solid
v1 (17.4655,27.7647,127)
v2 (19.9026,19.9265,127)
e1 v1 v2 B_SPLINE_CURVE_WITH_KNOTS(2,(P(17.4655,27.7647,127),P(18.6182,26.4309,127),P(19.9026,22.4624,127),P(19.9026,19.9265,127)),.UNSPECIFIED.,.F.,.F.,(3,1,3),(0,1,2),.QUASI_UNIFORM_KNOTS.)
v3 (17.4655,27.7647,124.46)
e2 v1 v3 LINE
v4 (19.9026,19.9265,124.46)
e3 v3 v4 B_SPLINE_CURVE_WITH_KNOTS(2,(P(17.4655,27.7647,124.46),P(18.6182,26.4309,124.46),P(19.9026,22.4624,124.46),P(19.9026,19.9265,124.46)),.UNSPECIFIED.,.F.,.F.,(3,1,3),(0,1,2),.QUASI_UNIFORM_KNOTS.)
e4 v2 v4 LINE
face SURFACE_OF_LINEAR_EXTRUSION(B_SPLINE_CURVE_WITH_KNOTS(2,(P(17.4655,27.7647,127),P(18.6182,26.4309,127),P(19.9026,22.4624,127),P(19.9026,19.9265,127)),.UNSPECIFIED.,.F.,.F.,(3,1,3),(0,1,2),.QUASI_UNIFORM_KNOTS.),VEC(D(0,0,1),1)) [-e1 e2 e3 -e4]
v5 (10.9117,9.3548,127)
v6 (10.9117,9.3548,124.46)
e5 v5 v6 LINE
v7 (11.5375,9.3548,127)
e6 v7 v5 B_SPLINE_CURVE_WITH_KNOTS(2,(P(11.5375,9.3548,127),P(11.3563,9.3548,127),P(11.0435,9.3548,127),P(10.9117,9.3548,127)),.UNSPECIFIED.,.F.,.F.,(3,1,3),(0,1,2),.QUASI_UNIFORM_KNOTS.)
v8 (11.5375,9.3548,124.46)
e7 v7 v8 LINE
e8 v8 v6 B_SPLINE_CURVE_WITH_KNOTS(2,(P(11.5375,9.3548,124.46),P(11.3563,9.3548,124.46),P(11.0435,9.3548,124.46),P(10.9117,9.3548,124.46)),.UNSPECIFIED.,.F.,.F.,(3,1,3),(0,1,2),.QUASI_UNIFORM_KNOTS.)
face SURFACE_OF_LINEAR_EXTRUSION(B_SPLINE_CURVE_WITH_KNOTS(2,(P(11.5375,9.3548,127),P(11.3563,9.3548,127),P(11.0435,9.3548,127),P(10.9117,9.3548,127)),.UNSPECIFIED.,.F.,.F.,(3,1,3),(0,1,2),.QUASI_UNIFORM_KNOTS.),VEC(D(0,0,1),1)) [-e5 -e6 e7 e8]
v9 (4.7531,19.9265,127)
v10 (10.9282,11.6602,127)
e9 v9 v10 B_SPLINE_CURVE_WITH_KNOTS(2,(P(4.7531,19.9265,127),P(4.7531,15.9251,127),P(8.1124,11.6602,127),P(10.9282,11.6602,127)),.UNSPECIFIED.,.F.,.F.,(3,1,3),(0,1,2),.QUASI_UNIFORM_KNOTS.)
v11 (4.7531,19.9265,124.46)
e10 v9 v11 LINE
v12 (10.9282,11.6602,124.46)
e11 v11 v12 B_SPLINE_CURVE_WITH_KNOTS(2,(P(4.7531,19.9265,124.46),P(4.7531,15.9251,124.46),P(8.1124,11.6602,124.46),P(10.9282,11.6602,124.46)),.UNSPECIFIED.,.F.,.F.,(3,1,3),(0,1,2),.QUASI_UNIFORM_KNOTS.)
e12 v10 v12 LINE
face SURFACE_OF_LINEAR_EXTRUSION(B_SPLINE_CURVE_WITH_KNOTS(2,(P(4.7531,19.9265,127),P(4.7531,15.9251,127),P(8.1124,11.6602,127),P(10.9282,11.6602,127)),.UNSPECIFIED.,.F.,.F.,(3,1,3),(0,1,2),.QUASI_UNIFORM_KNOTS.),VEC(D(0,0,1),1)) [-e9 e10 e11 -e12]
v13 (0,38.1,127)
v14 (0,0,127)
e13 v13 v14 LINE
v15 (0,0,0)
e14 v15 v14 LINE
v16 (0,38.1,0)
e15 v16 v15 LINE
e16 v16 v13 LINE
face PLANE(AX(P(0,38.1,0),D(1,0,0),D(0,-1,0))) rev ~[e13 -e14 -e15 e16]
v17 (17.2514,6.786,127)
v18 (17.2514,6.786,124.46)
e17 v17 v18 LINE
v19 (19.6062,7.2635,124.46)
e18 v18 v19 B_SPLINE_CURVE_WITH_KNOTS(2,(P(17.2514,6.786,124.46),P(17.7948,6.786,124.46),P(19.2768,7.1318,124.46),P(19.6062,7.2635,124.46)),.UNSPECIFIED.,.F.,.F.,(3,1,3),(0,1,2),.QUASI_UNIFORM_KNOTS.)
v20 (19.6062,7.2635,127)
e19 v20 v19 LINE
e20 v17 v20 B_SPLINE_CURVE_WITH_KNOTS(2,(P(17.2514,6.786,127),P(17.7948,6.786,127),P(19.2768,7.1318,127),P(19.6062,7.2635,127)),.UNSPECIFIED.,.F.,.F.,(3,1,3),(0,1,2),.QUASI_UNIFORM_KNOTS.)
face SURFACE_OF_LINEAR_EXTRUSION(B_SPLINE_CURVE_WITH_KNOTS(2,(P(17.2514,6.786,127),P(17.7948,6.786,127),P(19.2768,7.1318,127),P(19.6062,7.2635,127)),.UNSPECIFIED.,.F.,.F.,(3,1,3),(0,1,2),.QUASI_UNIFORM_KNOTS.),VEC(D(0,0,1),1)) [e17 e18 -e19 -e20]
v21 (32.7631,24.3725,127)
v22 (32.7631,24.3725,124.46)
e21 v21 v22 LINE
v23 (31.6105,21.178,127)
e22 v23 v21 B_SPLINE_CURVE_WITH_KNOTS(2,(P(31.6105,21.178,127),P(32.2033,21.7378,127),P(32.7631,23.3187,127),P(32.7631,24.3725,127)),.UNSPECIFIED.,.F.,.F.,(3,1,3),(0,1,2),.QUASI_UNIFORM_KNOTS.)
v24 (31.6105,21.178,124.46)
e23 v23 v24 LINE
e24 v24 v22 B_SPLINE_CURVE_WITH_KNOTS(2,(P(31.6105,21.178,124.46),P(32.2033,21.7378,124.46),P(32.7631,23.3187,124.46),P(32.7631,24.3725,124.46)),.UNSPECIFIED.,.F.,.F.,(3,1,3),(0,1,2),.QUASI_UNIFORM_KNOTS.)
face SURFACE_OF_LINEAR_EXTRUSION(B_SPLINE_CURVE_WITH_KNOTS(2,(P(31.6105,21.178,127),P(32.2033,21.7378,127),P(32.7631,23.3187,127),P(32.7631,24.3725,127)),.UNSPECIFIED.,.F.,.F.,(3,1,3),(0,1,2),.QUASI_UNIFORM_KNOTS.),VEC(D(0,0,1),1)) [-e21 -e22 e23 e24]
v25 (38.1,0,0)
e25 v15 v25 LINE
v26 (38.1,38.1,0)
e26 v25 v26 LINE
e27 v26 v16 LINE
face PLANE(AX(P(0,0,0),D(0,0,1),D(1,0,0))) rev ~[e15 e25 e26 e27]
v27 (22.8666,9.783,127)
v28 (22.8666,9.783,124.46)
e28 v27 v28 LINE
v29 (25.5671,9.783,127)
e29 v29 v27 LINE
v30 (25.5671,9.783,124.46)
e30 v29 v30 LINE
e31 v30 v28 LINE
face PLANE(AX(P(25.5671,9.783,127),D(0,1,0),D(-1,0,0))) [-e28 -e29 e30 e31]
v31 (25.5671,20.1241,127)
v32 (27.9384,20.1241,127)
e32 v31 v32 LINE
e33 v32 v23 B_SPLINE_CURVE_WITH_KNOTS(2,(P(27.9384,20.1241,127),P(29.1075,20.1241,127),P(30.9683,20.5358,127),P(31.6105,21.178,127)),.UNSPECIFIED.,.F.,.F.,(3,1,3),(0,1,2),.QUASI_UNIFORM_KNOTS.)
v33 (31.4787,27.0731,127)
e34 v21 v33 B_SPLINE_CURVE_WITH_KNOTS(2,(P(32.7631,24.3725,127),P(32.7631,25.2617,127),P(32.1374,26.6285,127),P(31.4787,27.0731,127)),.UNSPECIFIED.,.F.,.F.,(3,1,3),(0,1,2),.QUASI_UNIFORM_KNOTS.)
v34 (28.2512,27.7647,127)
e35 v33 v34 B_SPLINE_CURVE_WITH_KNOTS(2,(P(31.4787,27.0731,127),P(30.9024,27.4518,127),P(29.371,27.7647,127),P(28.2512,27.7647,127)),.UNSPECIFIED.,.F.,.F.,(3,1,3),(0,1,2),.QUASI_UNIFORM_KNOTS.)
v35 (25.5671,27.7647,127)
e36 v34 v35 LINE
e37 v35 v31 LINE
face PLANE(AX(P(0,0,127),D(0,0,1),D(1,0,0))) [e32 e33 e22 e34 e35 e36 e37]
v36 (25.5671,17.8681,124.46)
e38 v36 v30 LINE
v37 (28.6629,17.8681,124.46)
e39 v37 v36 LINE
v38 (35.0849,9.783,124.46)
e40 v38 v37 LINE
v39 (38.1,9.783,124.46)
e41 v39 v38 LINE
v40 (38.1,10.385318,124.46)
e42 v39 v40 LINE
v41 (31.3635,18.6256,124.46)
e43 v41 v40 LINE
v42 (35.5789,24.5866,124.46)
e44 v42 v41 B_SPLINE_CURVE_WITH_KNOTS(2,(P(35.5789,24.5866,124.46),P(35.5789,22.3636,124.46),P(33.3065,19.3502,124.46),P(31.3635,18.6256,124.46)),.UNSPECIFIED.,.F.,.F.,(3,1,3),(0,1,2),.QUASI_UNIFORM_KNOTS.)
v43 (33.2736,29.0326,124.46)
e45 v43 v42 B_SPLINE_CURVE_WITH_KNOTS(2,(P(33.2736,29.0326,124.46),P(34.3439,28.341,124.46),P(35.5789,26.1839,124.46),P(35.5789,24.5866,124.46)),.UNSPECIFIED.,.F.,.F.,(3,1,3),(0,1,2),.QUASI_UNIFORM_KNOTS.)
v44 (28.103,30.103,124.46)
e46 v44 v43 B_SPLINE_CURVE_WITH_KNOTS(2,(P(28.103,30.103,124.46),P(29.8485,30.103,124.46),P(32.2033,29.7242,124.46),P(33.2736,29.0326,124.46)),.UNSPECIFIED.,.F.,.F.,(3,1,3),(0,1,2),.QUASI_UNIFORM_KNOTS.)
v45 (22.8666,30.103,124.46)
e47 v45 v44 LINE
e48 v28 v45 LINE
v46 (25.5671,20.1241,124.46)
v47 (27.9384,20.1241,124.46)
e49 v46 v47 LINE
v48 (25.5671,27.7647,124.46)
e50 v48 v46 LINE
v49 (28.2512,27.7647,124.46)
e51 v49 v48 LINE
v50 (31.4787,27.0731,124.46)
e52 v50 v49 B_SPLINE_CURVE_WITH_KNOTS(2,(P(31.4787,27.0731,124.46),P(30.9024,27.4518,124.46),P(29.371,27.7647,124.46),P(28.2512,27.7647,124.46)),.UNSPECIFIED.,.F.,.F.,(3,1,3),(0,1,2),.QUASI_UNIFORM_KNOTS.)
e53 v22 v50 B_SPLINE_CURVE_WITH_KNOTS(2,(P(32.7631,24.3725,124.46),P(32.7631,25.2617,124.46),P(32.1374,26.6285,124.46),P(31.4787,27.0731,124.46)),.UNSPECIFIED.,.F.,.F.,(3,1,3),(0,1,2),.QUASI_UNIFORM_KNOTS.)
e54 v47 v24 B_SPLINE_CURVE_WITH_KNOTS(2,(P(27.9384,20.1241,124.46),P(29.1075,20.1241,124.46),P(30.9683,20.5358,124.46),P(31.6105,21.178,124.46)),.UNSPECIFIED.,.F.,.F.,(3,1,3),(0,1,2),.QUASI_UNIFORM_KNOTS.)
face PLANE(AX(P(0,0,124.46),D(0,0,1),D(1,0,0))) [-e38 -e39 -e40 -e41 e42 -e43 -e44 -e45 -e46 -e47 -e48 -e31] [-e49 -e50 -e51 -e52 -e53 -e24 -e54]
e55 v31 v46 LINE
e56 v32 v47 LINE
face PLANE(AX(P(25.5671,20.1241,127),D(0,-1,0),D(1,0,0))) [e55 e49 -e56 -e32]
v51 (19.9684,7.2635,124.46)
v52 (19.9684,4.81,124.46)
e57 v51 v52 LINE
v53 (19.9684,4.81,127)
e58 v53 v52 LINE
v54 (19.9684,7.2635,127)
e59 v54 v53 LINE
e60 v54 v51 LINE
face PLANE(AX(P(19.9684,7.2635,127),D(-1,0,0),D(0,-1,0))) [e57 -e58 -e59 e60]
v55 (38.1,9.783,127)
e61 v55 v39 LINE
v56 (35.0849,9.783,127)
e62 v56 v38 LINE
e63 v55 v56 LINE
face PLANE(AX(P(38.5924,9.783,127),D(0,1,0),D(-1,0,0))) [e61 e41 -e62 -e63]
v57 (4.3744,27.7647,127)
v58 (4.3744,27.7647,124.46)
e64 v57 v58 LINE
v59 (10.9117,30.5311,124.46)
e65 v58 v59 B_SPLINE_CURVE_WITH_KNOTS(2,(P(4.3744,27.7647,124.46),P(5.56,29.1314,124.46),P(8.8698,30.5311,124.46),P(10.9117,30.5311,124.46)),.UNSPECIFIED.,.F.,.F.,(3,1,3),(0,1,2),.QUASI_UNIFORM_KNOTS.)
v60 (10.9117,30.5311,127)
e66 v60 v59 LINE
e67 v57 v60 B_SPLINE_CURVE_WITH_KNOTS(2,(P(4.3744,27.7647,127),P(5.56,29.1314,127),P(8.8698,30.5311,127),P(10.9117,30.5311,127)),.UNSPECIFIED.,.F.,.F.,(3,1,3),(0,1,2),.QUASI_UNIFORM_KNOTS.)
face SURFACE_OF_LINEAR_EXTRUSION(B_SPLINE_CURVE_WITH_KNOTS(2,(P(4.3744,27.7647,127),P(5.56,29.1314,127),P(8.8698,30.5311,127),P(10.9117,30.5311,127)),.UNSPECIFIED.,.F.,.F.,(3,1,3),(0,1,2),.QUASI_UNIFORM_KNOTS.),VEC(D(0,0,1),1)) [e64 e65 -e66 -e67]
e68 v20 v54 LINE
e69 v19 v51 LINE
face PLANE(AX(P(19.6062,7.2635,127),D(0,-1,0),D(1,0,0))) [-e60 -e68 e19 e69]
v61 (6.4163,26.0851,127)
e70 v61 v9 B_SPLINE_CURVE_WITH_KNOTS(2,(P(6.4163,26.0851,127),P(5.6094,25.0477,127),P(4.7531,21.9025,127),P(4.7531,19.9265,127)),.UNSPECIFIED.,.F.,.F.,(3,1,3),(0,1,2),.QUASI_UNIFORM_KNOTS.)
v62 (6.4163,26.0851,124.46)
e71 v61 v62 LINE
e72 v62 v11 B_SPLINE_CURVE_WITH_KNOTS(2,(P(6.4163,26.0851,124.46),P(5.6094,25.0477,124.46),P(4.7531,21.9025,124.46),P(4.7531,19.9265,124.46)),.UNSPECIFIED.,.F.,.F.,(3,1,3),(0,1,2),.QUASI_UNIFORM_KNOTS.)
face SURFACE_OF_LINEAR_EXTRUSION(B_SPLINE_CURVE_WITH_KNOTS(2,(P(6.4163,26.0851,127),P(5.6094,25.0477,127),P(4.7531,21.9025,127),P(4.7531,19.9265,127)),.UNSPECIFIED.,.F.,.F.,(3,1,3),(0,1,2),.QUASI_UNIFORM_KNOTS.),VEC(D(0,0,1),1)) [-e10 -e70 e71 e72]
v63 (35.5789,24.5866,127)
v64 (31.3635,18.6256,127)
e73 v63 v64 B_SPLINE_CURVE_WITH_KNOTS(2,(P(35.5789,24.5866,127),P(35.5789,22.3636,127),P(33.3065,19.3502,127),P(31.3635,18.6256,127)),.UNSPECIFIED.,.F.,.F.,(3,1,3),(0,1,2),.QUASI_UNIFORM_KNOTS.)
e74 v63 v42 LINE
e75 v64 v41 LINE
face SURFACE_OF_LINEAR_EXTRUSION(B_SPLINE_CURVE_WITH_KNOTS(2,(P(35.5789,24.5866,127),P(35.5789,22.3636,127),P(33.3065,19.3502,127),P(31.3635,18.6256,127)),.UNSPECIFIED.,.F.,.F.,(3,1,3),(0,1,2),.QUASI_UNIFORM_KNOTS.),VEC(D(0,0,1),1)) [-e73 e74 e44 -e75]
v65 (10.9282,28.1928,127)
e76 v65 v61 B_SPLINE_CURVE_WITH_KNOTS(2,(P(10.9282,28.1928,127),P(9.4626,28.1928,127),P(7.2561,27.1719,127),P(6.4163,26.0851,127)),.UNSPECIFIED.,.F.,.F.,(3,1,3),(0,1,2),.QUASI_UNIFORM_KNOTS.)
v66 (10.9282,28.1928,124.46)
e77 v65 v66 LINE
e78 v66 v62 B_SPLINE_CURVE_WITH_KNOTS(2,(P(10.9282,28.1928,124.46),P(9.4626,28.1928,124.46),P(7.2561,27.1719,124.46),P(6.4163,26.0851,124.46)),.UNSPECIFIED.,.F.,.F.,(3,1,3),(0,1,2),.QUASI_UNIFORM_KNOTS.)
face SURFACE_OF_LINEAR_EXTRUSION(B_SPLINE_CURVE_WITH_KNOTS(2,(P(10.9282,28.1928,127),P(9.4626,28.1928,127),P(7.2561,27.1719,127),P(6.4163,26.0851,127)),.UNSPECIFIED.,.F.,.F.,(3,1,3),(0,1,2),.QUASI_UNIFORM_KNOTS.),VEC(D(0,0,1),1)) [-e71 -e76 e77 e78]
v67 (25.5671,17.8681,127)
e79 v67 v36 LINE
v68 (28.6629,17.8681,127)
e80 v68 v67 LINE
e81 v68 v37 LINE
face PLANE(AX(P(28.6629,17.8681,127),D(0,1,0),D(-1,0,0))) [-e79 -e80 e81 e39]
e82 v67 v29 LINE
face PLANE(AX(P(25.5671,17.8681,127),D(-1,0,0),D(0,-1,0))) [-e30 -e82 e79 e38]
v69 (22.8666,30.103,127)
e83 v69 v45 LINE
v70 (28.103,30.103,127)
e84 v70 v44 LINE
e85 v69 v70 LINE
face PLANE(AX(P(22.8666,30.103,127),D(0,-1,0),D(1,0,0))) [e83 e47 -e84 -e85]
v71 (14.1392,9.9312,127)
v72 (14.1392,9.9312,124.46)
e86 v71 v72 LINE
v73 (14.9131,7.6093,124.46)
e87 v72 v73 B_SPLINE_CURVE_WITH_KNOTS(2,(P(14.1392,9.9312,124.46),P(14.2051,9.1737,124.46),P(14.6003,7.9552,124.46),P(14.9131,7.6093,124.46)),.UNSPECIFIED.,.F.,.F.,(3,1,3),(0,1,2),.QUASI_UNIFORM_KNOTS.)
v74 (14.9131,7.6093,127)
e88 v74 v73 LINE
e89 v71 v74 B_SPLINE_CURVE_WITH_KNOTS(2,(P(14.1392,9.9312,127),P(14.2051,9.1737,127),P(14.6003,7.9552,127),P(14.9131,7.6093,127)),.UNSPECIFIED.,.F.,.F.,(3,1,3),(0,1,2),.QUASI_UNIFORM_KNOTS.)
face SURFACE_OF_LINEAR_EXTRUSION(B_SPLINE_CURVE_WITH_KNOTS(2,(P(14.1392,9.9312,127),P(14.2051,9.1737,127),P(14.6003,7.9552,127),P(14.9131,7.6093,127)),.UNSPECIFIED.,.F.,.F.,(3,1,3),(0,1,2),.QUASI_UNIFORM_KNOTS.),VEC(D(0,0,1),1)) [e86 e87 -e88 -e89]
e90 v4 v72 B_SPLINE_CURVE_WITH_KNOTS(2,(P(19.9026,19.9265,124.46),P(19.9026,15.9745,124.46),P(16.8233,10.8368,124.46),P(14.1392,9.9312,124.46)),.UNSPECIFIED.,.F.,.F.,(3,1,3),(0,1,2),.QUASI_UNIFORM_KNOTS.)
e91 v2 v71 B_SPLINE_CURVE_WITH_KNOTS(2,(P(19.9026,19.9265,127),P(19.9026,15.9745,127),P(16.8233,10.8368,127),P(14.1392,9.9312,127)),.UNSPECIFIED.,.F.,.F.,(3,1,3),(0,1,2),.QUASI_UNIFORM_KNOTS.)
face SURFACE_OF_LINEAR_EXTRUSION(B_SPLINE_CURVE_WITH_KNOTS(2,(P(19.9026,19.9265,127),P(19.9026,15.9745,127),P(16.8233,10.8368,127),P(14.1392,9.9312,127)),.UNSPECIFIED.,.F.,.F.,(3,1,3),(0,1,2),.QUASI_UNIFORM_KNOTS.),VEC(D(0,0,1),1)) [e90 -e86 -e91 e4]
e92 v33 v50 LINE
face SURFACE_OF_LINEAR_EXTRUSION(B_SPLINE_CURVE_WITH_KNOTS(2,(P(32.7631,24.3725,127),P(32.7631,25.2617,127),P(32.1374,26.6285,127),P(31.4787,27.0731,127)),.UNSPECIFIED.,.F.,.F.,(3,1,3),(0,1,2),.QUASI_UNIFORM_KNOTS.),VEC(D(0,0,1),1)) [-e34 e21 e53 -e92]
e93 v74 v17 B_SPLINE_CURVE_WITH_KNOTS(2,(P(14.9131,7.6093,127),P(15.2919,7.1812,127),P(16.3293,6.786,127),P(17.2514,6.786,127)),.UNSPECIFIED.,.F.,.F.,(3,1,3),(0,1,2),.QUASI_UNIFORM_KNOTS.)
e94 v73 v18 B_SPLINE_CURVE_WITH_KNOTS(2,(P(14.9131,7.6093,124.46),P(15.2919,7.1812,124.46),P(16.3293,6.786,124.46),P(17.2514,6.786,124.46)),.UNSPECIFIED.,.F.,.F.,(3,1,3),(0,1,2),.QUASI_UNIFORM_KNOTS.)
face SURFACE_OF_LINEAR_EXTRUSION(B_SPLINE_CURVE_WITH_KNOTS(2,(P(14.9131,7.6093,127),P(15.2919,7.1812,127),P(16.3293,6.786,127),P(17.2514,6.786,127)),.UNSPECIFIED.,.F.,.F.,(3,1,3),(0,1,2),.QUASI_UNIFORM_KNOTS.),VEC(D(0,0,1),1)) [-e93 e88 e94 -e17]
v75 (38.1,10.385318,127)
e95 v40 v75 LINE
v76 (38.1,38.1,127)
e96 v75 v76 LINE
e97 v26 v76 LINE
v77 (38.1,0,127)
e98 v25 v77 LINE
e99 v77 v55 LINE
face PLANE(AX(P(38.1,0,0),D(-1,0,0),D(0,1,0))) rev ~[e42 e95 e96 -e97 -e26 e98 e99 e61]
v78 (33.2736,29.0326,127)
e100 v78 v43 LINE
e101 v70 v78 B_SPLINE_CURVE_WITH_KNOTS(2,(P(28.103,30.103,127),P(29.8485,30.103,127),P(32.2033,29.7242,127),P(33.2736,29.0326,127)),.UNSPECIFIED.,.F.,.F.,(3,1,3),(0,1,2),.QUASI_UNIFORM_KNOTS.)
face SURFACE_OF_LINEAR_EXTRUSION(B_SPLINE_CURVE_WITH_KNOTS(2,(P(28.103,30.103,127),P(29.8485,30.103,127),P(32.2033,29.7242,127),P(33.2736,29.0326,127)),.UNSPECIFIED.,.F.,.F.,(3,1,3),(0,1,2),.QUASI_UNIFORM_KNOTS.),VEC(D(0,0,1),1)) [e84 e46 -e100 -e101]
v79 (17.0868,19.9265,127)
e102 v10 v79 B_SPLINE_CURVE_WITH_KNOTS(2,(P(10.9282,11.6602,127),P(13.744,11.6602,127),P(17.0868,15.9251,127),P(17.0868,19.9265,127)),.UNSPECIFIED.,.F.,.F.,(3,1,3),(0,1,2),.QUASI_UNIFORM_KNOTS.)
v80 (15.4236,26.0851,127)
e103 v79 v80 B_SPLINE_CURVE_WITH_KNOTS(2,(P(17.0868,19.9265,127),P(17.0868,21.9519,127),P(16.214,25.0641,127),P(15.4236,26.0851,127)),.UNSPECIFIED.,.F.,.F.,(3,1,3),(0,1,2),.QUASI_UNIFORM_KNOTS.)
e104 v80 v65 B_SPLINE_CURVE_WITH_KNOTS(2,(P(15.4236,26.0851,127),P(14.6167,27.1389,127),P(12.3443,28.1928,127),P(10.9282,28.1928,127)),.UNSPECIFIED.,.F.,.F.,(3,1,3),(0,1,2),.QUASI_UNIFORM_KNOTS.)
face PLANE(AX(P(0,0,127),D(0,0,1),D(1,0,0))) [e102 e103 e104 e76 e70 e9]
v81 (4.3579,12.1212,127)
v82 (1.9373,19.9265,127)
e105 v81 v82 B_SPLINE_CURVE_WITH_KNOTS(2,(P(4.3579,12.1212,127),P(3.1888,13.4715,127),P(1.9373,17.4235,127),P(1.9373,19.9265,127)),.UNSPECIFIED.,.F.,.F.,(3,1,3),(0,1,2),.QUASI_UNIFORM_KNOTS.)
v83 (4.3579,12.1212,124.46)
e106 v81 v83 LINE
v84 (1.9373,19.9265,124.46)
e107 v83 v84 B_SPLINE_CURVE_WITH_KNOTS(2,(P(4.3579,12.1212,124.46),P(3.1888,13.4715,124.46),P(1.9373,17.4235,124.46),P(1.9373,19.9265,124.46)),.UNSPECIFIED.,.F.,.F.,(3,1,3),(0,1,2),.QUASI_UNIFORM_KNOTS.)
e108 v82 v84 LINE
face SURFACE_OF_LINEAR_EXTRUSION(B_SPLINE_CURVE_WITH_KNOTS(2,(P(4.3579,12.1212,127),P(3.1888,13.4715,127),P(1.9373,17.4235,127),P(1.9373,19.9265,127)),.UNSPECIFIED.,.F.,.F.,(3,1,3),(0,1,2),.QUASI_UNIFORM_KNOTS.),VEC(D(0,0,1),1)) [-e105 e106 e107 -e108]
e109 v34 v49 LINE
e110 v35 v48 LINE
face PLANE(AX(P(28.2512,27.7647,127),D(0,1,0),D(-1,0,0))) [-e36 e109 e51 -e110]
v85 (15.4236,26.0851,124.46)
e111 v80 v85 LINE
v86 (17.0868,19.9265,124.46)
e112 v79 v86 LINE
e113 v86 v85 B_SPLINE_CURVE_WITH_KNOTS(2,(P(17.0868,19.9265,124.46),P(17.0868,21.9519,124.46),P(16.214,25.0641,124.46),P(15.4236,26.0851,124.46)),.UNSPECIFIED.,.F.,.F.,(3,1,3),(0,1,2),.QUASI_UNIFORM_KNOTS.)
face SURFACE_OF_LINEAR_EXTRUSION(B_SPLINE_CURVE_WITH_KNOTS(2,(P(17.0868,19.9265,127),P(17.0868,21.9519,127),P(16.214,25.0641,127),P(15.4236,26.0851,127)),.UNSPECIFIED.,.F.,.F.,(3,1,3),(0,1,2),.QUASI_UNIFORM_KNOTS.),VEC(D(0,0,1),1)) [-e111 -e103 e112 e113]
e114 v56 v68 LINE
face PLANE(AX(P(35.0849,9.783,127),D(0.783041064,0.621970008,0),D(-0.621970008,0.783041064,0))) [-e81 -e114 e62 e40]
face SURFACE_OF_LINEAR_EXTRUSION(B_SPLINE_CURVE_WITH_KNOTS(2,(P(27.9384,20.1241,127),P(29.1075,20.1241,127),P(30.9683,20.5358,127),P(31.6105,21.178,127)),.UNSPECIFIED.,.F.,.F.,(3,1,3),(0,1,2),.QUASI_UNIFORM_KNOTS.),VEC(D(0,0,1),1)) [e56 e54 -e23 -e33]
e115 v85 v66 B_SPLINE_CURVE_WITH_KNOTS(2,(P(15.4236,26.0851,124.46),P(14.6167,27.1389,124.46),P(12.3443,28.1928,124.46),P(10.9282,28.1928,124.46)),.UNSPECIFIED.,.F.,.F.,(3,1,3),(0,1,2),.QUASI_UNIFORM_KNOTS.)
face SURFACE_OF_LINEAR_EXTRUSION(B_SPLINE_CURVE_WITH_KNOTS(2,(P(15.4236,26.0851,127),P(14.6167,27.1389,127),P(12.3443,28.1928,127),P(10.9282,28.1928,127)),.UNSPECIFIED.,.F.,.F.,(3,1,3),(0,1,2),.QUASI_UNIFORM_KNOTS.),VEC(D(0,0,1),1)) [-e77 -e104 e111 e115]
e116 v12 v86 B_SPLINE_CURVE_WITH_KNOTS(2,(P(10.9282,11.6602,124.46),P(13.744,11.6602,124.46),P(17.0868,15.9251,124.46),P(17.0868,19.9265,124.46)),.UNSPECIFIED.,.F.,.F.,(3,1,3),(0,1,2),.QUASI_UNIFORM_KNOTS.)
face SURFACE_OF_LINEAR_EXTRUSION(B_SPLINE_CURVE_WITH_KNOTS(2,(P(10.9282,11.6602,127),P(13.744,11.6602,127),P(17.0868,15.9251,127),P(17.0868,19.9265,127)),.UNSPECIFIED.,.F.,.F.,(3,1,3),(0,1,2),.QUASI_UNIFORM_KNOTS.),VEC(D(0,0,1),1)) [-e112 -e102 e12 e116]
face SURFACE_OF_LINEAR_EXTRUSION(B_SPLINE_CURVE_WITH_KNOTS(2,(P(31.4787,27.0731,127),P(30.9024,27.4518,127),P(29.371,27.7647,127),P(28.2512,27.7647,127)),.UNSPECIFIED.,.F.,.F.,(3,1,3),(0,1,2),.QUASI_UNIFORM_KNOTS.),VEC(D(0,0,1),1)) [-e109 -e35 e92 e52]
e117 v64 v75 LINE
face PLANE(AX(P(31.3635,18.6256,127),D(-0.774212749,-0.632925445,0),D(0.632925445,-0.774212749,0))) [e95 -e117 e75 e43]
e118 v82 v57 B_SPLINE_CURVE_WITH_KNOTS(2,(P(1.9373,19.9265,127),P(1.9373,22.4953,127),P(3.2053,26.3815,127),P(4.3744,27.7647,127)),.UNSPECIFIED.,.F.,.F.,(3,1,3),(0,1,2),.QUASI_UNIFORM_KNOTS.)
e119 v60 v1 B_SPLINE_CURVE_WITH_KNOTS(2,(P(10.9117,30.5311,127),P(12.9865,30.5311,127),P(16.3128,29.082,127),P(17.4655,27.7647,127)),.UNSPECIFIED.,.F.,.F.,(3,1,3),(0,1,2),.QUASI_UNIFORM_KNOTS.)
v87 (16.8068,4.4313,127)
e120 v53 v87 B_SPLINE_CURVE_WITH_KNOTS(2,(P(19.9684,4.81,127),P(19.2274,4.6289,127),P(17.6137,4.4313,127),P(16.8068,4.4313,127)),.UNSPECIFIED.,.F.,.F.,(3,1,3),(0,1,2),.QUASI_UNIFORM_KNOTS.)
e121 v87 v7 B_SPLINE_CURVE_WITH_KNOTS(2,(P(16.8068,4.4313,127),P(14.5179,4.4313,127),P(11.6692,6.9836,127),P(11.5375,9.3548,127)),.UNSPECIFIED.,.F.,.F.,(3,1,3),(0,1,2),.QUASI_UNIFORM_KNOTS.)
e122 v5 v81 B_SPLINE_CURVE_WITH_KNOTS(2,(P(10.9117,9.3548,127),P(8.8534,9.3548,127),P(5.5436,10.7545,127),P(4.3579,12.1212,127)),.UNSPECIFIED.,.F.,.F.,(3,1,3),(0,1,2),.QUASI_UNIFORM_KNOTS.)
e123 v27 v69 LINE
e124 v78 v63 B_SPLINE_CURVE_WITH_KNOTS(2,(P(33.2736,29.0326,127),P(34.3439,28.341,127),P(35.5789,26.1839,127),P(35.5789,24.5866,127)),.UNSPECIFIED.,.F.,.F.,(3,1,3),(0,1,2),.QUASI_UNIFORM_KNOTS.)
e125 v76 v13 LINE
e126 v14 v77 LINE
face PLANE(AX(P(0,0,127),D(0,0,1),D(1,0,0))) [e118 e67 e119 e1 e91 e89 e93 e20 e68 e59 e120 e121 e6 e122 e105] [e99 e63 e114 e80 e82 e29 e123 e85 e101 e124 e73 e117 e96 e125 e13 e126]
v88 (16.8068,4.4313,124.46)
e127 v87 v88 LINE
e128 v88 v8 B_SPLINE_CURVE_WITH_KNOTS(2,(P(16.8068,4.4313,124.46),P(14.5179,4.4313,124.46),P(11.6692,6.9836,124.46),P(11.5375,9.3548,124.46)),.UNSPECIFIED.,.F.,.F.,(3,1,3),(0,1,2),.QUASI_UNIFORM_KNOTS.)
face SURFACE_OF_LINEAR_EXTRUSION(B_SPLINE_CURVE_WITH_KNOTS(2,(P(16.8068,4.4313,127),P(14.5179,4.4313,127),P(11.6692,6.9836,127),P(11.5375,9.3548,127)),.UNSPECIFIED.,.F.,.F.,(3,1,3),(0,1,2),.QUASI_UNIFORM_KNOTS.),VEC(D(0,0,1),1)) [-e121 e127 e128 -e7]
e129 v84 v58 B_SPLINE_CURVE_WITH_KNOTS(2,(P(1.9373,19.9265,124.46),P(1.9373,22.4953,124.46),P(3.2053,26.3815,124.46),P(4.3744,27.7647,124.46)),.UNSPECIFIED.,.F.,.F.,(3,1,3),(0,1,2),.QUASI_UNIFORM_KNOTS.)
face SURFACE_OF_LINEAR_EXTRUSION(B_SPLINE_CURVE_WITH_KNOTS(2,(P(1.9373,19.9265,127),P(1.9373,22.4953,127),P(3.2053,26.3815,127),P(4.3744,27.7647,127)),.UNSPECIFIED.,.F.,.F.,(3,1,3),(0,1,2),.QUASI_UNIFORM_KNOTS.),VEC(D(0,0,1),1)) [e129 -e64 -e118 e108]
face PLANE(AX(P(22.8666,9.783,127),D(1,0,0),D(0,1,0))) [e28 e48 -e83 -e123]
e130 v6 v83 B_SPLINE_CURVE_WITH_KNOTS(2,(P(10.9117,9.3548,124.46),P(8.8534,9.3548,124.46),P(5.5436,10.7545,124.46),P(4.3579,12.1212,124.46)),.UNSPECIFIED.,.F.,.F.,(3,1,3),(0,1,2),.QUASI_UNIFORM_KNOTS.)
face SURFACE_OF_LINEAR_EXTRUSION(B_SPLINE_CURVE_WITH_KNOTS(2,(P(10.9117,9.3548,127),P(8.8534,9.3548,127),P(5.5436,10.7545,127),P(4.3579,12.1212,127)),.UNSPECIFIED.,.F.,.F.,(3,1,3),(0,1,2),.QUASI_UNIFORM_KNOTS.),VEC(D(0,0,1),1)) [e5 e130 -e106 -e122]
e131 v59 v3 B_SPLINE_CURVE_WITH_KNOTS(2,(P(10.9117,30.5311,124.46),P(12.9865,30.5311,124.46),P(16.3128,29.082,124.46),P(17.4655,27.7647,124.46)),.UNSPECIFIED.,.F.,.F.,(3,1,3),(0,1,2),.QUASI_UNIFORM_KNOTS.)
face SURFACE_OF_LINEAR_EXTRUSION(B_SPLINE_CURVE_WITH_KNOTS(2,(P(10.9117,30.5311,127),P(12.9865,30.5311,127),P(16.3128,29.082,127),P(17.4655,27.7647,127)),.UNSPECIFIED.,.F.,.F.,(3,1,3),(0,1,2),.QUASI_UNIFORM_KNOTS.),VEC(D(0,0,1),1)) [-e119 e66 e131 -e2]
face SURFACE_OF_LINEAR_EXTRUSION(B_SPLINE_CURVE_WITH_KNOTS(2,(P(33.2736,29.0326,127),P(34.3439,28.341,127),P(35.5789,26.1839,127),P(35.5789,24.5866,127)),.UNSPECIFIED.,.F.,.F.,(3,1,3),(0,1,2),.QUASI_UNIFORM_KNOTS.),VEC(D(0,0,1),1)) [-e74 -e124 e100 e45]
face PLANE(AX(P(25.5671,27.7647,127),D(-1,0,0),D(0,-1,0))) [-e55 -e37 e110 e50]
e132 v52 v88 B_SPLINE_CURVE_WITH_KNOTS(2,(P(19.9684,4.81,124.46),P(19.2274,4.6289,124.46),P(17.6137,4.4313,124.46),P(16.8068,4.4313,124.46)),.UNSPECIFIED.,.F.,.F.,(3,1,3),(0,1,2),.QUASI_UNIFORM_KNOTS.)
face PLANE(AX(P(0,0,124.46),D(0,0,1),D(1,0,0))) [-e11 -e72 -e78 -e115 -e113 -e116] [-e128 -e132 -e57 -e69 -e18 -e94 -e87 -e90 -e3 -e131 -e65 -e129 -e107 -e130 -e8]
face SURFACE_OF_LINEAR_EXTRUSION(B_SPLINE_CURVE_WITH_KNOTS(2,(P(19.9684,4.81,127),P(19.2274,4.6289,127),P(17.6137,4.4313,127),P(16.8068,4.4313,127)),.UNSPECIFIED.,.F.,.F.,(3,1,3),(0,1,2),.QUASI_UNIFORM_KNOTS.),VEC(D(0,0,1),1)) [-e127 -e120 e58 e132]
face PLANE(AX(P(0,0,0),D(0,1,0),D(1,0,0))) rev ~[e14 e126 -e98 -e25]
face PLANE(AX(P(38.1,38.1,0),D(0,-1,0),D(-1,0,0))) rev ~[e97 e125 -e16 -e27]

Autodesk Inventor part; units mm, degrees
ref_plane "YZ Plane" through (0, 0, 0) normal (1, 0, 0) x (0, 1, 0)
ref_plane "XZ Plane" through (0, 0, 0) normal (0, 1, 0) x (-1, 0, 0)
ref_plane "XY Plane" through (0, 0, 0) normal (0, 0, 1) x (1, 0, 0)
sketch "Sketch1" plane through (0, 0, 0) normal (0, 0, 1) x (1, 0, 0)
  line L0 (0, 0) -> (38.1, 0)
  line L1 (38.1, 0) -> (38.1, 38.1)
  line L2 (38.1, 38.1) -> (0, 38.1)
  line L3 (0, 38.1) -> (0, 0)
  dimension "d0" = 38.1
  dimension "d1" = 38.1
extrude "Extrusion1" add sketch "Sketch1" along normal blind 127
sketch "Sketch2" plane through (0, 0, 127) normal (0, 0, 1) x (1, 0, 0)
  line L0 (1.0317, 30.5311) -> (47.4268, 30.5311) construction
  line L1 (47.4268, 30.5311) -> (47.4268, -2.0937) construction
  line L2 (47.4268, -2.0937) -> (1.0317, -2.0937) construction
  line L3 (1.0317, -2.0937) -> (1.0317, 30.5311) construction
  spline S0 degree 2 poles (19.9684, 4.81) (19.2274, 4.6289) (17.6137, 4.4313) (16.8068, 4.4313) knots 0 0 0 1 2 2 2
  spline S1 degree 2 poles (16.8068, 4.4313) (14.5179, 4.4313) (11.6692, 6.9836) (11.5375, 9.3548) knots 0 0 0 1 2 2 2
  spline S2 degree 2 poles (11.5375, 9.3548) (11.3563, 9.3548) (11.0435, 9.3548) (10.9117, 9.3548) knots 0 0 0 1 2 2 2
  spline S3 degree 2 poles (10.9117, 9.3548) (8.8534, 9.3548) (5.5436, 10.7545) (4.3579, 12.1212) knots 0 0 0 1 2 2 2
  spline S4 degree 2 poles (4.3579, 12.1212) (3.1888, 13.4715) (1.9373, 17.4235) (1.9373, 19.9265) knots 0 0 0 1 2 2 2
  spline S5 degree 2 poles (1.9373, 19.9265) (1.9373, 22.4953) (3.2053, 26.3815) (4.3744, 27.7647) knots 0 0 0 1 2 2 2
  spline S6 degree 2 poles (4.3744, 27.7647) (5.56, 29.1314) (8.8698, 30.5311) (10.9117, 30.5311) knots 0 0 0 1 2 2 2
  spline S7 degree 2 poles (10.9117, 30.5311) (12.9865, 30.5311) (16.3128, 29.082) (17.4655, 27.7647) knots 0 0 0 1 2 2 2
  spline S8 degree 2 poles (17.4655, 27.7647) (18.6182, 26.4309) (19.9026, 22.4624) (19.9026, 19.9265) knots 0 0 0 1 2 2 2
  spline S9 degree 2 poles (19.9026, 19.9265) (19.9026, 15.9745) (16.8233, 10.8368) (14.1392, 9.9312) knots 0 0 0 1 2 2 2
  spline S10 degree 2 poles (14.1392, 9.9312) (14.2051, 9.1737) (14.6003, 7.9552) (14.9131, 7.6093) knots 0 0 0 1 2 2 2
  spline S11 degree 2 poles (14.9131, 7.6093) (15.2919, 7.1812) (16.3293, 6.786) (17.2514, 6.786) knots 0 0 0 1 2 2 2
  spline S12 degree 2 poles (17.2514, 6.786) (17.7948, 6.786) (19.2768, 7.1318) (19.6062, 7.2635) knots 0 0 0 1 2 2 2
  line L4 (19.6062, 7.2635) -> (19.9684, 7.2635)
  line L5 (19.9684, 7.2635) -> (19.9684, 4.81)
  spline S13 degree 2 poles (17.0868, 19.9265) (17.0868, 21.9519) (16.214, 25.0641) (15.4236, 26.0851) knots 0 0 0 1 2 2 2
  spline S14 degree 2 poles (15.4236, 26.0851) (14.6167, 27.1389) (12.3443, 28.1928) (10.9282, 28.1928) knots 0 0 0 1 2 2 2
  spline S15 degree 2 poles (10.9282, 28.1928) (9.4626, 28.1928) (7.2561, 27.1719) (6.4163, 26.0851) knots 0 0 0 1 2 2 2
  spline S16 degree 2 poles (6.4163, 26.0851) (5.6094, 25.0477) (4.7531, 21.9025) (4.7531, 19.9265) knots 0 0 0 1 2 2 2
  spline S17 degree 2 poles (4.7531, 19.9265) (4.7531, 15.9251) (8.1124, 11.6602) (10.9282, 11.6602) knots 0 0 0 1 2 2 2
  spline S18 degree 2 poles (10.9282, 11.6602) (13.744, 11.6602) (17.0868, 15.9251) (17.0868, 19.9265) knots 0 0 0 1 2 2 2
  line L6 (38.5924, 9.783) -> (35.0849, 9.783)
  line L7 (35.0849, 9.783) -> (28.6629, 17.8681)
  line L8 (28.6629, 17.8681) -> (25.5671, 17.8681)
  line L9 (25.5671, 17.8681) -> (25.5671, 9.783)
  line L10 (25.5671, 9.783) -> (22.8666, 9.783)
  line L11 (22.8666, 9.783) -> (22.8666, 30.103)
  line L12 (22.8666, 30.103) -> (28.103, 30.103)
  spline S19 degree 2 poles (28.103, 30.103) (29.8485, 30.103) (32.2033, 29.7242) (33.2736, 29.0326) knots 0 0 0 1 2 2 2
  spline S20 degree 2 poles (33.2736, 29.0326) (34.3439, 28.341) (35.5789, 26.1839) (35.5789, 24.5866) knots 0 0 0 1 2 2 2
  spline S21 degree 2 poles (35.5789, 24.5866) (35.5789, 22.3636) (33.3065, 19.3502) (31.3635, 18.6256) knots 0 0 0 1 2 2 2
  line L13 (31.3635, 18.6256) -> (38.5924, 9.783)
  spline S22 degree 2 poles (32.7631, 24.3725) (32.7631, 25.2617) (32.1374, 26.6285) (31.4787, 27.0731) knots 0 0 0 1 2 2 2
  spline S23 degree 2 poles (31.4787, 27.0731) (30.9024, 27.4518) (29.371, 27.7647) (28.2512, 27.7647) knots 0 0 0 1 2 2 2
  line L14 (28.2512, 27.7647) -> (25.5671, 27.7647)
  line L15 (25.5671, 27.7647) -> (25.5671, 20.1241)
  line L16 (25.5671, 20.1241) -> (27.9384, 20.1241)
  spline S24 degree 2 poles (27.9384, 20.1241) (29.1075, 20.1241) (30.9683, 20.5358) (31.6105, 21.178) knots 0 0 0 1 2 2 2
  spline S25 degree 2 poles (31.6105, 21.178) (32.2033, 21.7378) (32.7631, 23.3187) (32.7631, 24.3725) knots 0 0 0 1 2 2 2
  point P0 (0, 0)
extrude "Extrusion2" cut sketch "Sketch2" against normal blind 2.54
properties part number "Container 2 2 5 QR color 6"
